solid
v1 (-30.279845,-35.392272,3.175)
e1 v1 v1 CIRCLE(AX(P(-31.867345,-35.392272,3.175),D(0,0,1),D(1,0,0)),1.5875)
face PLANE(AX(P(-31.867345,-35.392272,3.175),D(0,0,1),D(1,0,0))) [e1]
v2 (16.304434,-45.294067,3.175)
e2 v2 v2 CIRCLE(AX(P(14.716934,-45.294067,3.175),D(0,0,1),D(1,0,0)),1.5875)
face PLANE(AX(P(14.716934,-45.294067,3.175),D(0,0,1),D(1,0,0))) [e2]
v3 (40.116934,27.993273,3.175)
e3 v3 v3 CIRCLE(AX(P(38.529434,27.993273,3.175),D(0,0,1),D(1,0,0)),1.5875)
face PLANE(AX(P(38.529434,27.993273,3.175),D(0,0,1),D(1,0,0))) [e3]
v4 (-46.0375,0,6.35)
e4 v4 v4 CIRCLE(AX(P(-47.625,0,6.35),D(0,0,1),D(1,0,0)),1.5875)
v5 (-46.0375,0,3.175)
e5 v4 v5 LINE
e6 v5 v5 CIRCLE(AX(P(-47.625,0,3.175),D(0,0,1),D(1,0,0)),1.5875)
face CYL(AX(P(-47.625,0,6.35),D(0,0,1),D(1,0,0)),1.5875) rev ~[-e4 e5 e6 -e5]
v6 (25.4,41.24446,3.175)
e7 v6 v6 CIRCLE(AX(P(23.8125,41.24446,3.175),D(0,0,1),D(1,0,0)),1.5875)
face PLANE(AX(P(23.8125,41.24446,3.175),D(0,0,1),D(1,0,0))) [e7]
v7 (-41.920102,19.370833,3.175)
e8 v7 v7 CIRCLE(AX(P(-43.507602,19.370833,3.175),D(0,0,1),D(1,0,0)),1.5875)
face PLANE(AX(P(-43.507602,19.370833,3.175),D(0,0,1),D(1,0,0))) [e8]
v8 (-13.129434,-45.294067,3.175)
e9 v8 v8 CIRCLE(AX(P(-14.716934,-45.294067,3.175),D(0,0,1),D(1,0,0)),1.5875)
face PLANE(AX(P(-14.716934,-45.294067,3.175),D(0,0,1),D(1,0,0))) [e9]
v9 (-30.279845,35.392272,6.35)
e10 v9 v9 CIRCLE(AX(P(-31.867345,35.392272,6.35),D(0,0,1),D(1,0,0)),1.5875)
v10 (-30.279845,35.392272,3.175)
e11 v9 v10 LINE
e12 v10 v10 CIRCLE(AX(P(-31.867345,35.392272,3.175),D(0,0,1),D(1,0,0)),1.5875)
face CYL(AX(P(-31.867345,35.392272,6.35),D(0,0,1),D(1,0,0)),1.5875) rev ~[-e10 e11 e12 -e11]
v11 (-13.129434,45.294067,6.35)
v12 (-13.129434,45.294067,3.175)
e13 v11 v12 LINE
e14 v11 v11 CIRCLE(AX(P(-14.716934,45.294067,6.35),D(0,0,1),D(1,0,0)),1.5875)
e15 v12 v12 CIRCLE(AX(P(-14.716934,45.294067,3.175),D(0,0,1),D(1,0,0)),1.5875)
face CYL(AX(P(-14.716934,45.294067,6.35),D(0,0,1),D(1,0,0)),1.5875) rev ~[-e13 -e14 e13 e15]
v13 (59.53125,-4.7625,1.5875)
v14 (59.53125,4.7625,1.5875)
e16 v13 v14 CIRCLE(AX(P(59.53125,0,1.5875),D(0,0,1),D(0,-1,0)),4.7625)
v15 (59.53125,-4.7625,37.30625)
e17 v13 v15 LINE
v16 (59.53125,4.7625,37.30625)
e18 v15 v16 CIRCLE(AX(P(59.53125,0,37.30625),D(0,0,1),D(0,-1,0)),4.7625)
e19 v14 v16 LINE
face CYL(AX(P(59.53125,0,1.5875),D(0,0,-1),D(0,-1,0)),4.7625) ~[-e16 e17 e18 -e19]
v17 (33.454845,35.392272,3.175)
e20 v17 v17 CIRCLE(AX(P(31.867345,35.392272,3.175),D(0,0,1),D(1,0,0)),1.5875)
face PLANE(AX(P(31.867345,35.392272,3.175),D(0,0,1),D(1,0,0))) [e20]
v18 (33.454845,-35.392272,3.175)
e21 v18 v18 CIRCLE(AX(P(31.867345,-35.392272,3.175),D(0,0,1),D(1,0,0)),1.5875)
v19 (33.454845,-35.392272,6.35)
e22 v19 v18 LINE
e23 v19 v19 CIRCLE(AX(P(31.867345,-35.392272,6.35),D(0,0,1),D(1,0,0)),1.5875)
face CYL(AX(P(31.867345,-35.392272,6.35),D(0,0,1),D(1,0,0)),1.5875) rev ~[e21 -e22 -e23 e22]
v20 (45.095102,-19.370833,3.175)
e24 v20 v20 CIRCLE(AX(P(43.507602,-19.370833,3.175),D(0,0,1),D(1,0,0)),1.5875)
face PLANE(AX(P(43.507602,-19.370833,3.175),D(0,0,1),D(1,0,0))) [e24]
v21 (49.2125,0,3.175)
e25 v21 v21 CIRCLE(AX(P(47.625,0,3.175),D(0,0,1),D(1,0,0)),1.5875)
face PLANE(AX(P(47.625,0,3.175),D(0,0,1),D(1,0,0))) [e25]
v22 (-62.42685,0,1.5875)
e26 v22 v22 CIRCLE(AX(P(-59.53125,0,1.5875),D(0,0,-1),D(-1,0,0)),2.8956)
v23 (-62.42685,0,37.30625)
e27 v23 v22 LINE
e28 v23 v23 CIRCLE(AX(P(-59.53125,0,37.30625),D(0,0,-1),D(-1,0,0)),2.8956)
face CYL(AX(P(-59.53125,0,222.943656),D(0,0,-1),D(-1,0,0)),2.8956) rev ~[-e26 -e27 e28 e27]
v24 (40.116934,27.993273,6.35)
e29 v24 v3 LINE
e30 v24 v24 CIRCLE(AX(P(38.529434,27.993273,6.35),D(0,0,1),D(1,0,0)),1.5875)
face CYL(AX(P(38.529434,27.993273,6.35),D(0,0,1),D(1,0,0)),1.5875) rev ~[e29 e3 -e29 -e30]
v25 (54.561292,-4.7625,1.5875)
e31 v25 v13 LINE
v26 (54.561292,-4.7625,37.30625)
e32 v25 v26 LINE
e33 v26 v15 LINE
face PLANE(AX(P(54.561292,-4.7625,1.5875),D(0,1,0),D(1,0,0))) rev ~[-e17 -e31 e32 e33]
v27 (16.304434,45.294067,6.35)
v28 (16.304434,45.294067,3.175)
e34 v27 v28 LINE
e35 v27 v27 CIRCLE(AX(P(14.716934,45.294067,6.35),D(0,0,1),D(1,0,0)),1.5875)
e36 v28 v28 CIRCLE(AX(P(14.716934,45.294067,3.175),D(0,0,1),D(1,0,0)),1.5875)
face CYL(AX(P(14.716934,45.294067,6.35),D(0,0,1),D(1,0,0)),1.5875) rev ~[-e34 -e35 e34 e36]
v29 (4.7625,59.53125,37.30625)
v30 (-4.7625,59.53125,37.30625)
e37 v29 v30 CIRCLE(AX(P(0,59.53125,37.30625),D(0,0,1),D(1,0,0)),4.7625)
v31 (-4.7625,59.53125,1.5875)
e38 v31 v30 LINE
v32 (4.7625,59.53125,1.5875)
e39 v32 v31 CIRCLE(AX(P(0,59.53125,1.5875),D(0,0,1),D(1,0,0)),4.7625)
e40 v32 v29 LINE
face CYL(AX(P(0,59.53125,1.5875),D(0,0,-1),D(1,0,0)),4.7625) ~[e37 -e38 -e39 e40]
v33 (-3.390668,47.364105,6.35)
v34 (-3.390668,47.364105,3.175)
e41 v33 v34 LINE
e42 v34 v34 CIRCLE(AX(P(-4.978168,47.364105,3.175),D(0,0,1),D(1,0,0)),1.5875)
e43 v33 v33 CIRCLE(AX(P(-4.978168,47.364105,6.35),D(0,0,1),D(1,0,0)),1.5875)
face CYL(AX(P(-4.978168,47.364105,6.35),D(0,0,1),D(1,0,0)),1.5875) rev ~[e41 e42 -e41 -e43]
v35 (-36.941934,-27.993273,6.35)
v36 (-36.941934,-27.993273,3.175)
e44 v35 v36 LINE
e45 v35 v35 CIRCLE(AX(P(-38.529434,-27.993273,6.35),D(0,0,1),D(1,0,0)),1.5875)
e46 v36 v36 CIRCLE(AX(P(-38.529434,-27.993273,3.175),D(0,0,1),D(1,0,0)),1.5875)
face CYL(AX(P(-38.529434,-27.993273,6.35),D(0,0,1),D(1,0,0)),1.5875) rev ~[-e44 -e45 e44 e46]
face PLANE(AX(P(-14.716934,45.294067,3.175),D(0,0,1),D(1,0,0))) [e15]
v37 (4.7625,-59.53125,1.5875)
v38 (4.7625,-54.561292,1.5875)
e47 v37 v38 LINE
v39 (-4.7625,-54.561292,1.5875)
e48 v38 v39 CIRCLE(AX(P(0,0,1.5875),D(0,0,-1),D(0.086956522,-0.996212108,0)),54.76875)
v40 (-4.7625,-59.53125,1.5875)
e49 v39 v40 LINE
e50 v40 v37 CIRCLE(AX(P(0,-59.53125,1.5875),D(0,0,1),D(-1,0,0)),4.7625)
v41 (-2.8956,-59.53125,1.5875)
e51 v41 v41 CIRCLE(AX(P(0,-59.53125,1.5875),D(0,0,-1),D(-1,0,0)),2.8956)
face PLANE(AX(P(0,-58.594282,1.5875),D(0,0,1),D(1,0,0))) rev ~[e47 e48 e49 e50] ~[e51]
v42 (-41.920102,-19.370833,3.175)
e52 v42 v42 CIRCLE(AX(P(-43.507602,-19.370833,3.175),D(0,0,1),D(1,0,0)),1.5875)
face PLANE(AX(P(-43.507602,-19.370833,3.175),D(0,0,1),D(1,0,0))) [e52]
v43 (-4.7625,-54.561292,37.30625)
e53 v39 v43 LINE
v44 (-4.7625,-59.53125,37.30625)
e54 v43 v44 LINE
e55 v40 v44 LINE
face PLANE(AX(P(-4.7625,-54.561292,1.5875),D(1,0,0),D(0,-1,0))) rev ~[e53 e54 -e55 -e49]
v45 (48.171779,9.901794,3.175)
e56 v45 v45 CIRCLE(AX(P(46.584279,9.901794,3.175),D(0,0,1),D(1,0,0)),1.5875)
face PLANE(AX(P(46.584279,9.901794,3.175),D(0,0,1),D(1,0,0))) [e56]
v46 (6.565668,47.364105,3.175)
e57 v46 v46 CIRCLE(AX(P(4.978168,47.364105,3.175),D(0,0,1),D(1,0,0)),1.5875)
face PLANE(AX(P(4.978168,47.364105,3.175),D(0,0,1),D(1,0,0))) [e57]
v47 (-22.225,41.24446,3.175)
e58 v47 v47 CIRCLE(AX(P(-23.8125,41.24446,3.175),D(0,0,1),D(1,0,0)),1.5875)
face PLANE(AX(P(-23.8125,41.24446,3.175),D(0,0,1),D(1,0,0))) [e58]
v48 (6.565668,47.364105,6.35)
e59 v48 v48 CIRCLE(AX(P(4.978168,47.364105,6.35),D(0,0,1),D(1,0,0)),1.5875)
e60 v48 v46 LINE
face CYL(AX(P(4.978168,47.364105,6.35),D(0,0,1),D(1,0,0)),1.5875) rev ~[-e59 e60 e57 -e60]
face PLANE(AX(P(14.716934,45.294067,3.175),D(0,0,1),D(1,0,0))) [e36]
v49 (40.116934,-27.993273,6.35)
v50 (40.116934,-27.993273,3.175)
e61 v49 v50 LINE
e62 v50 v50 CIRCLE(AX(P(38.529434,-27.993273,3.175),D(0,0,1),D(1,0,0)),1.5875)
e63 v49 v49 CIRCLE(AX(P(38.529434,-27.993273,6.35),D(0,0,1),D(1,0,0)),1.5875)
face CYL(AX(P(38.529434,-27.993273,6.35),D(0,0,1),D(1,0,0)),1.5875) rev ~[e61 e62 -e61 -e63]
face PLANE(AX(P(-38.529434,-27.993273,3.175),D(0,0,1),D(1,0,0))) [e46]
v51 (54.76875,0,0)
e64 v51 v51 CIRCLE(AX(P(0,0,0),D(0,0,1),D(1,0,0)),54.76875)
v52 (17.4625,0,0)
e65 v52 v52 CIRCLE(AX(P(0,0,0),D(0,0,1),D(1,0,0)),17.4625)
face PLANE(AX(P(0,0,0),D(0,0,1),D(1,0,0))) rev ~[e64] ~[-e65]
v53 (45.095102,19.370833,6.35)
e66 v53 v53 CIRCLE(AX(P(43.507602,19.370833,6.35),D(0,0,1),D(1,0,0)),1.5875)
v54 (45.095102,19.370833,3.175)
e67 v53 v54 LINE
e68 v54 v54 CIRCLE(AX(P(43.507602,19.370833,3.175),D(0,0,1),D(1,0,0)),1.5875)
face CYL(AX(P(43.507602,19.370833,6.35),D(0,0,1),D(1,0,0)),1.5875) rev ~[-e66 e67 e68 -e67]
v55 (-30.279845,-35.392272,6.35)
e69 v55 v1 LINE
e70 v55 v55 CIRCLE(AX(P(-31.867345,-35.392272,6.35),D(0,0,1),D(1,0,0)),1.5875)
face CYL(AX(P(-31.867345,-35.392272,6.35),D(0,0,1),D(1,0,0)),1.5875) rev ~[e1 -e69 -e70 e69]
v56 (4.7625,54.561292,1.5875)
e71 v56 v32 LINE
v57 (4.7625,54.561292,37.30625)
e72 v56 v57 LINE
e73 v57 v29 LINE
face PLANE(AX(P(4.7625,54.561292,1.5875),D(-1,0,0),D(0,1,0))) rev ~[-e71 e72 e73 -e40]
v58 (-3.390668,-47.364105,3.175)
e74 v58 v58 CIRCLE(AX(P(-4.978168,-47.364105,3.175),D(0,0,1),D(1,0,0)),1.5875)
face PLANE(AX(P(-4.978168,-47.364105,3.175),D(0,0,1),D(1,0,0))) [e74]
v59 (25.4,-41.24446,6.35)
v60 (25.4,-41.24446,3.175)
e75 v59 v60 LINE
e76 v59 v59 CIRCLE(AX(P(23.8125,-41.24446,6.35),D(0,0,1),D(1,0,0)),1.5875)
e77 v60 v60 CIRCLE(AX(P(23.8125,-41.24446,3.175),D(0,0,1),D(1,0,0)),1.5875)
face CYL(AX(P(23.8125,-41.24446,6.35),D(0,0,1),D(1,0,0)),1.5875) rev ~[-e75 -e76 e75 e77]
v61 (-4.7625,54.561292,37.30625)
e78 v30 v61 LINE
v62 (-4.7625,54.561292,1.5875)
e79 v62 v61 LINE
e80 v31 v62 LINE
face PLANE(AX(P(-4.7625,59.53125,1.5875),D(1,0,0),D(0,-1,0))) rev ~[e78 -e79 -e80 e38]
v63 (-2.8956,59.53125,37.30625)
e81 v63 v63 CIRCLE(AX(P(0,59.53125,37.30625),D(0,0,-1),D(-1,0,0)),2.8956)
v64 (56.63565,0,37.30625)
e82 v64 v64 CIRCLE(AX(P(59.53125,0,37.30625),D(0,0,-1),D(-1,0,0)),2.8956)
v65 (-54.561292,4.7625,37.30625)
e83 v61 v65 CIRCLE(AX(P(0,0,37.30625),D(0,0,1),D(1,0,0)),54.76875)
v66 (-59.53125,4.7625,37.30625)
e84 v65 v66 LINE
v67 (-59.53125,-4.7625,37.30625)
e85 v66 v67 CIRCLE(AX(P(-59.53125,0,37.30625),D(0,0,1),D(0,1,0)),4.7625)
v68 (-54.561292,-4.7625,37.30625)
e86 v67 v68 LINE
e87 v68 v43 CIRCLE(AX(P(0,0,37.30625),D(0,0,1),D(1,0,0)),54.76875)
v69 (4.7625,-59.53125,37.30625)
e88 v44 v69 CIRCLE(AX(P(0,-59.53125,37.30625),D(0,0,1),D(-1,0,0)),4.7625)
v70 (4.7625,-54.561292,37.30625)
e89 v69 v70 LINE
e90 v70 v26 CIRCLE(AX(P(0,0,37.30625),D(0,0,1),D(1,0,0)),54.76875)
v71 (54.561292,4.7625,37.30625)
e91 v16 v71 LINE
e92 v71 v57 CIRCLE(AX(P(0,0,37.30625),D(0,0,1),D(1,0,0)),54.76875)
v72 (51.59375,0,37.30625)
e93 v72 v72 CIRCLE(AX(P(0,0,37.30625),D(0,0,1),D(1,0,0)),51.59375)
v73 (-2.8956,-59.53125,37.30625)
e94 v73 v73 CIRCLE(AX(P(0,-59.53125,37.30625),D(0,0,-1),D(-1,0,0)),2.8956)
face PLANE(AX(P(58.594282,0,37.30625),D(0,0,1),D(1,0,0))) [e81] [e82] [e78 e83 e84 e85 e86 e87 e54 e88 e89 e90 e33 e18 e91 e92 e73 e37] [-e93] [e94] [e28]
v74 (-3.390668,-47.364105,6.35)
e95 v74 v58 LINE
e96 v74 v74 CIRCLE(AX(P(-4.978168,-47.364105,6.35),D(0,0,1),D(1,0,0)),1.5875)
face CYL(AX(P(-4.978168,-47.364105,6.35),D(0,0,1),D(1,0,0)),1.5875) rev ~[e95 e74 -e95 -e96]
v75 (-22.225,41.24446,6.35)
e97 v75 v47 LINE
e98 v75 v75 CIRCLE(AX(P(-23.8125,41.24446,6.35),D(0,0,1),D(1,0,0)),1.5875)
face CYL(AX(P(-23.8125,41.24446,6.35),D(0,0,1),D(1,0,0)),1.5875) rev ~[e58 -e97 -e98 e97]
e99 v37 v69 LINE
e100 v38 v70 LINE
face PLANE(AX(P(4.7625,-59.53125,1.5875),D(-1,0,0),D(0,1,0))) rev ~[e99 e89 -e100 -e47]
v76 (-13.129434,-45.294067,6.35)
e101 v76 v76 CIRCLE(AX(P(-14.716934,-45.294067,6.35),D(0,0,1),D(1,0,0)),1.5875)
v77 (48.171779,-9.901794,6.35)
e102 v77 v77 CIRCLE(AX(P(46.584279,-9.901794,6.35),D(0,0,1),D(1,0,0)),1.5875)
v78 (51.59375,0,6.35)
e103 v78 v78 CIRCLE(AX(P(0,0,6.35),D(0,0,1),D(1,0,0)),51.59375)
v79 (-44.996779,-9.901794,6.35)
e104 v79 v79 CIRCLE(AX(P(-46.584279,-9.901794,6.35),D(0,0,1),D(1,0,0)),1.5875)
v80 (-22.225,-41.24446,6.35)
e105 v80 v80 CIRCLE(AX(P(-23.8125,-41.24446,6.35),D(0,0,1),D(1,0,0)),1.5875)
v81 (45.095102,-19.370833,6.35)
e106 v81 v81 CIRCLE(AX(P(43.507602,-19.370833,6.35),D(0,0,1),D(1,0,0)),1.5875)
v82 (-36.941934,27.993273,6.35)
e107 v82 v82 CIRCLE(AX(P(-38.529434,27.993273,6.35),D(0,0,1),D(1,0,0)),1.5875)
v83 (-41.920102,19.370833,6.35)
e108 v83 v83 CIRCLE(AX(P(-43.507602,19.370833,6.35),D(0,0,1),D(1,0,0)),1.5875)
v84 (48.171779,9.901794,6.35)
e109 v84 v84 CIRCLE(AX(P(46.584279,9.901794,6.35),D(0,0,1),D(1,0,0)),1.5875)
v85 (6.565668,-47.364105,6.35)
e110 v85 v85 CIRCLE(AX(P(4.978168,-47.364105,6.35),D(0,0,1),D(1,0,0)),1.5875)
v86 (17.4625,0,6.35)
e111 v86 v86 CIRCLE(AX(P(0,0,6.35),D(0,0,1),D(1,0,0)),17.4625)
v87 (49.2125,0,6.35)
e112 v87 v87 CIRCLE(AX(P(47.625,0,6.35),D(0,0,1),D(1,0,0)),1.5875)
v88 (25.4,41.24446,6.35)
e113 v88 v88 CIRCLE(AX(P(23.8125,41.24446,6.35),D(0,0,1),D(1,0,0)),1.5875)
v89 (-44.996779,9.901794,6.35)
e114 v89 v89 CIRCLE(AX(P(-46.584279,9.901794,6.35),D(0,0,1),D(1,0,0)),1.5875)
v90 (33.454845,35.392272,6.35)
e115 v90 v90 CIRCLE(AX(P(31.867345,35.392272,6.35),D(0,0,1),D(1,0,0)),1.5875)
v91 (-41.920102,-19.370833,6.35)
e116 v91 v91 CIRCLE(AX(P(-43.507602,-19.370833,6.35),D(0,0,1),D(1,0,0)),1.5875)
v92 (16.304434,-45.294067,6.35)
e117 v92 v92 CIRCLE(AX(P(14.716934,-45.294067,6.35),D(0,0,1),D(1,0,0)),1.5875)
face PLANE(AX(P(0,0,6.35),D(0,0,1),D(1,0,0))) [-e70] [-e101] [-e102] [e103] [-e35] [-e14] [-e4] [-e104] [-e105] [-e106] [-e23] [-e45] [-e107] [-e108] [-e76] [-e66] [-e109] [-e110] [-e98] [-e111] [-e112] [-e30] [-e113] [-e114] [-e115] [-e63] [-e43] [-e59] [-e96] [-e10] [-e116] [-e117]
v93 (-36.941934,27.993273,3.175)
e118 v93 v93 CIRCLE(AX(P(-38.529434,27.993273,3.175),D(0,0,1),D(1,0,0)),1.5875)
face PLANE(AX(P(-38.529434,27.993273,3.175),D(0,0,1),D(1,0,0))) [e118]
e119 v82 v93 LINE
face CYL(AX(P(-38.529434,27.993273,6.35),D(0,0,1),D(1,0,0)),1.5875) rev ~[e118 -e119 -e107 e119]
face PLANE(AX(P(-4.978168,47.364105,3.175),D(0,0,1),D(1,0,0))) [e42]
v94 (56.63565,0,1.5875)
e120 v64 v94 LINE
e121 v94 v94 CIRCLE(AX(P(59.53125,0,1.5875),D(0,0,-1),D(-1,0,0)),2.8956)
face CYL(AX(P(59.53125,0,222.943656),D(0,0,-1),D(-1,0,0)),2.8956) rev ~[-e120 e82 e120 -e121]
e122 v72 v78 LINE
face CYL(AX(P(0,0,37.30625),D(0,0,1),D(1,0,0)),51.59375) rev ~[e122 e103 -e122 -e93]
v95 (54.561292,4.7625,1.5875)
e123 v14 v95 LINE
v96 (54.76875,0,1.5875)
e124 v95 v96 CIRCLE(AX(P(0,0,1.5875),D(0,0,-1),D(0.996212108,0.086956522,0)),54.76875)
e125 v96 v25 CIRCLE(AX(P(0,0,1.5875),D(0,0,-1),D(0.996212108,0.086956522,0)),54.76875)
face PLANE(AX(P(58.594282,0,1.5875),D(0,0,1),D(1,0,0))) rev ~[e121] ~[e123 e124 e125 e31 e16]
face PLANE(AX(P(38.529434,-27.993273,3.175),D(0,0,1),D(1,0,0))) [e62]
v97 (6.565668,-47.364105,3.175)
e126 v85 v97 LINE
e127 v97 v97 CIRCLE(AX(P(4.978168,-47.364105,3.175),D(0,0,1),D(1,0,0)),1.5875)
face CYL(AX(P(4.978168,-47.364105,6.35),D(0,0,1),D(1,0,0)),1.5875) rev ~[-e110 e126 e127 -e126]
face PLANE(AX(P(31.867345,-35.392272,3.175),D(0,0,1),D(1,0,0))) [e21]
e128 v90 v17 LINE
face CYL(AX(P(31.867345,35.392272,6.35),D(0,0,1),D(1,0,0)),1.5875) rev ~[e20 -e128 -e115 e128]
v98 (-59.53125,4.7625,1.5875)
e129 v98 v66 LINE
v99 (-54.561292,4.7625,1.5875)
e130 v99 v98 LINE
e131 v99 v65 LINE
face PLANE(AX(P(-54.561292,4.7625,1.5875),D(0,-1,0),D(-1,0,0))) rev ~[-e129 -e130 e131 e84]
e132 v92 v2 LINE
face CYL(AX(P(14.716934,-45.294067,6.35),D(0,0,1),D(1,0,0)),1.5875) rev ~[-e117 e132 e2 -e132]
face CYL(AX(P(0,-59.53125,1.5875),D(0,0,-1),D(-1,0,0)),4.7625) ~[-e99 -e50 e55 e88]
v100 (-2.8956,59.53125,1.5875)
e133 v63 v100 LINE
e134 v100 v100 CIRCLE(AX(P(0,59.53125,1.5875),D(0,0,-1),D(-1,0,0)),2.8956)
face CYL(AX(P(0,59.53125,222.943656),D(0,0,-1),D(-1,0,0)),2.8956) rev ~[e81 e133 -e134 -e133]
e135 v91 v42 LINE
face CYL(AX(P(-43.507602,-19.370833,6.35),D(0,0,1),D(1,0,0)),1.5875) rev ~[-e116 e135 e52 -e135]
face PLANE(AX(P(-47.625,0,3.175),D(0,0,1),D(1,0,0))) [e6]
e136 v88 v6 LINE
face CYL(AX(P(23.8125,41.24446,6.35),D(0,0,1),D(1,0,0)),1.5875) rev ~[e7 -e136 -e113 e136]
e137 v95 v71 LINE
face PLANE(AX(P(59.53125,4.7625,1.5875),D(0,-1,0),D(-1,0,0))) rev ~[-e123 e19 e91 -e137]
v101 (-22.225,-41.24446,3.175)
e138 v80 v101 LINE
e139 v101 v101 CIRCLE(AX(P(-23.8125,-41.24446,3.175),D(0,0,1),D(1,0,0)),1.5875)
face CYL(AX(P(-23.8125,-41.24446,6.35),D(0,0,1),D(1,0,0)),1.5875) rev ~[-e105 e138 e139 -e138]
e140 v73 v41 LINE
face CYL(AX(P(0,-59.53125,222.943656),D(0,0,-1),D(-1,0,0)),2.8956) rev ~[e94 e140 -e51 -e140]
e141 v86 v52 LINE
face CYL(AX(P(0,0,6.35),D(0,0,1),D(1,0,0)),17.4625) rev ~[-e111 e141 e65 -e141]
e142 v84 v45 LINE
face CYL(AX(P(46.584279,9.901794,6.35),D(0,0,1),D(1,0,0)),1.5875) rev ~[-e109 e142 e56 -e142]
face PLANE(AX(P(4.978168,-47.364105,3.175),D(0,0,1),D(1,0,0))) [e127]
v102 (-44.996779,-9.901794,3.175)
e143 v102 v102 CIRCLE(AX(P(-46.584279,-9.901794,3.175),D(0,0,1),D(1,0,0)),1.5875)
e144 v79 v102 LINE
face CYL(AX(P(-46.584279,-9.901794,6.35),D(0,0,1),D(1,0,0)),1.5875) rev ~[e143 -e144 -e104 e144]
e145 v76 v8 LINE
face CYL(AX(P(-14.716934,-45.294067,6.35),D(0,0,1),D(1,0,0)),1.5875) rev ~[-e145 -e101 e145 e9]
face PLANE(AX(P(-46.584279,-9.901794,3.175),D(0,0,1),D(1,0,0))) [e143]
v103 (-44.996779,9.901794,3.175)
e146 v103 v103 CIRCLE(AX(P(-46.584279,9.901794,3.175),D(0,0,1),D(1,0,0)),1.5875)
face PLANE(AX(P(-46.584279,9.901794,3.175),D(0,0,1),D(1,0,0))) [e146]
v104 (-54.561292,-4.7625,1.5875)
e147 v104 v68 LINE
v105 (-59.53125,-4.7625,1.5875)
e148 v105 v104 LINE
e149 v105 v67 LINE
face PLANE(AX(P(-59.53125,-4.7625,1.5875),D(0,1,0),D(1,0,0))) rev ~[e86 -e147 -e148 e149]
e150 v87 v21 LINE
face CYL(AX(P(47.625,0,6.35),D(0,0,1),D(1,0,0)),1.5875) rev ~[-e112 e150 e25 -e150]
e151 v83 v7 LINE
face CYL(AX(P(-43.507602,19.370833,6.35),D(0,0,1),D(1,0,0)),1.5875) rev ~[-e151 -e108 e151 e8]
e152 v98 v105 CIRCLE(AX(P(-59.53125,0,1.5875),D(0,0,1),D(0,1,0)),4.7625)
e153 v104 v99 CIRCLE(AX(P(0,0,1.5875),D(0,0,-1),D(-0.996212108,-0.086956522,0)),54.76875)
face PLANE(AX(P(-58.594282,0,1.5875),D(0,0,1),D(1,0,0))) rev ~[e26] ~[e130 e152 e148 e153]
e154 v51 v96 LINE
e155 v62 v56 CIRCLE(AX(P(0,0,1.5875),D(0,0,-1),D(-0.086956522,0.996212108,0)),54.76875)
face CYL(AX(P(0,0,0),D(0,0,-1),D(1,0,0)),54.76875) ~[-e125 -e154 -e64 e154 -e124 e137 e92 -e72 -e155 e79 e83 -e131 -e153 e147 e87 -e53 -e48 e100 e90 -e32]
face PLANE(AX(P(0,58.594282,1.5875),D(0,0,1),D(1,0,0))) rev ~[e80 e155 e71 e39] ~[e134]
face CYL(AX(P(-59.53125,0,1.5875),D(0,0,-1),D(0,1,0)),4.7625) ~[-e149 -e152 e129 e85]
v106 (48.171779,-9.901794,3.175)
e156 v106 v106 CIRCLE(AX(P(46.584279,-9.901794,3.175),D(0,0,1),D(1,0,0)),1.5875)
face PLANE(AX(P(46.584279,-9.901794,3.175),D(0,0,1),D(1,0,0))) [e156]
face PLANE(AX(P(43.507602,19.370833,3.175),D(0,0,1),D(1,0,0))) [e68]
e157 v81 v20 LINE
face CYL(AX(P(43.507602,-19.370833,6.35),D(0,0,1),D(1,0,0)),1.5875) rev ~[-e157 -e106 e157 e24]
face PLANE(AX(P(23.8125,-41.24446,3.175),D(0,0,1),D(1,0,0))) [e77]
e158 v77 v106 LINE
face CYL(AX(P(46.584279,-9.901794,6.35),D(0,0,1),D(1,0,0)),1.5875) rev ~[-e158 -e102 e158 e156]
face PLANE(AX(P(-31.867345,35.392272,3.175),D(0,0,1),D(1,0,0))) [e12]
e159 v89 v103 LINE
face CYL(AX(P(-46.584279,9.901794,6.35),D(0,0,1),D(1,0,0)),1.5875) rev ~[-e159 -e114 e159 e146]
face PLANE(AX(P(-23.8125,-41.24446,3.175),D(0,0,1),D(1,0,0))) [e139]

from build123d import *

# Parameters (mm, degrees)
SKETCH1_R                  = 54.76875
BOSS_EXTRUDE1_DEPTH        = 37.30625
SKETCH2_R                  = 51.59375
CUT_EXTRUDE1_DEPTH         = 30.95625
SKETCH3_R                  = 1.5875
CUT_EXTRUDE2_DEPTH         = 3.175
SKETCH4_R                  = 17.4625
CUT_EXTRUDE3_DEPTH         = 84.411757967
BOSS_EXTRUDE2_START        = -35.71875
BOSS_EXTRUDE2_DEPTH        = 35.71875
F_1_0_228_DIAMETER_HOLE1_D = 5.7912


with BuildPart() as part:
    # Sketch1 → Boss-Extrude1 (new body)
    with BuildSketch(Plane.XY):
        Circle(SKETCH1_R)
    extrude(amount=BOSS_EXTRUDE1_DEPTH)

    # Sketch2 → Cut-Extrude1 (cut)
    with BuildSketch(Plane.XY.offset(37.30625)):
        Circle(SKETCH2_R)
    extrude(amount=-CUT_EXTRUDE1_DEPTH, mode=Mode.SUBTRACT)

    # Sketch3 → Cut-Extrude2 (cut)
    with BuildSketch(Plane.XY.offset(6.35)):
        with Locations((-47.625, 0)):
            Circle(SKETCH3_R)
        with Locations((-46.584279485, 9.901794275)):
            Circle(SKETCH3_R)
        with Locations((-43.50760242, 19.370832626)):
            Circle(SKETCH3_R)
        with Locations((-38.529434357, 27.99327264)):
            Circle(SKETCH3_R)
        with Locations((-31.867345128, 35.392272313)):
            Circle(SKETCH3_R)
        with Locations((-23.8125, 41.244459855)):
            Circle(SKETCH3_R)
        with Locations((-14.716934357, 45.294066589)):
            Circle(SKETCH3_R)
        with Locations((-4.978168063, 47.364105267)):
            Circle(SKETCH3_R)
        with Locations((4.978168063, 47.364105267)):
            Circle(SKETCH3_R)
        with Locations((14.716934357, 45.294066589)):
            Circle(SKETCH3_R)
        with Locations((23.8125, 41.244459855)):
            Circle(SKETCH3_R)
        with Locations((31.867345128, 35.392272313)):
            Circle(SKETCH3_R)
        with Locations((38.529434357, 27.99327264)):
            Circle(SKETCH3_R)
        with Locations((43.50760242, 19.370832626)):
            Circle(SKETCH3_R)
        with Locations((46.584279485, 9.901794275)):
            Circle(SKETCH3_R)
        with Locations((47.625, 0)):
            Circle(SKETCH3_R)
        with Locations((46.584279485, -9.901794275)):
            Circle(SKETCH3_R)
        with Locations((43.50760242, -19.370832626)):
            Circle(SKETCH3_R)
        with Locations((38.529434357, -27.99327264)):
            Circle(SKETCH3_R)
        with Locations((31.867345128, -35.392272313)):
            Circle(SKETCH3_R)
        with Locations((23.8125, -41.244459855)):
            Circle(SKETCH3_R)
        with Locations((14.716934357, -45.294066589)):
            Circle(SKETCH3_R)
        with Locations((4.978168063, -47.364105267)):
            Circle(SKETCH3_R)
        with Locations((-4.978168063, -47.364105267)):
            Circle(SKETCH3_R)
        with Locations((-14.716934357, -45.294066589)):
            Circle(SKETCH3_R)
        with Locations((-23.8125, -41.244459855)):
            Circle(SKETCH3_R)
        with Locations((-31.867345128, -35.392272313)):
            Circle(SKETCH3_R)
        with Locations((-38.529434357, -27.99327264)):
            Circle(SKETCH3_R)
        with Locations((-43.50760242, -19.370832626)):
            Circle(SKETCH3_R)
        with Locations((-46.584279485, -9.901794275)):
            Circle(SKETCH3_R)
    extrude(amount=-CUT_EXTRUDE2_DEPTH, mode=Mode.SUBTRACT)

    # Sketch4 → Cut-Extrude3 (cut, through all)
    with BuildSketch(Plane.XY.offset(6.35)):
        Circle(SKETCH4_R)
    extrude(amount=-CUT_EXTRUDE3_DEPTH, mode=Mode.SUBTRACT)

    # Sketch7 → Boss-Extrude2 (add)
    with BuildSketch(Plane.XY.offset(37.30625).offset(BOSS_EXTRUDE2_START)):
        with BuildLine():
            Line((-54.561291868, 4.7625), (-59.53125, 4.7625))
            ThreePointArc((-59.53125, 4.7625), (-64.29375, 0), (-59.53125, -4.7625))
            Line((-59.53125, -4.7625), (-54.561291868, -4.7625))
            ThreePointArc((-54.561291868, -4.7625), (-54.76875, 0), (-54.561291868, 4.7625))
        make_face()
        with BuildLine():
            Line((-4.7625, 59.53125), (-4.7625, 54.561291868))
            ThreePointArc((-4.7625, 54.561291868), (0, 54.76875), (4.7625, 54.561291868))
            Line((4.7625, 54.561291868), (4.7625, 59.53125))
            ThreePointArc((4.7625, 59.53125), (0, 64.29375), (-4.7625, 59.53125))
        make_face()
        with BuildLine():
            ThreePointArc((4.7625, -54.561291868), (0, -54.76875), (-4.7625, -54.561291868))
            Line((-4.7625, -54.561291868), (-4.7625, -59.53125))
            ThreePointArc((-4.7625, -59.53125), (0, -64.29375), (4.7625, -59.53125))
            Line((4.7625, -59.53125), (4.7625, -54.561291868))
        make_face()
        with BuildLine():
            Line((59.53125, 4.7625), (54.561291868, 4.7625))
            ThreePointArc((54.561291868, 4.7625), (54.76875, 0), (54.561291868, -4.7625))
            Line((54.561291868, -4.7625), (59.53125, -4.7625))
            ThreePointArc((59.53125, -4.7625), (64.29375, 0), (59.53125, 4.7625))
        make_face()
    extrude(amount=BOSS_EXTRUDE2_DEPTH)

    # #1 (0.228) Diameter Hole1 (through all)
    with Locations(Plane.XY.offset(37.30625)):
        with Locations((-59.53125, 0), (0, 59.53125), (59.53125, 0), (0, -59.53125)):
            Hole(F_1_0_228_DIAMETER_HOLE1_D / 2)


solid = part.part
